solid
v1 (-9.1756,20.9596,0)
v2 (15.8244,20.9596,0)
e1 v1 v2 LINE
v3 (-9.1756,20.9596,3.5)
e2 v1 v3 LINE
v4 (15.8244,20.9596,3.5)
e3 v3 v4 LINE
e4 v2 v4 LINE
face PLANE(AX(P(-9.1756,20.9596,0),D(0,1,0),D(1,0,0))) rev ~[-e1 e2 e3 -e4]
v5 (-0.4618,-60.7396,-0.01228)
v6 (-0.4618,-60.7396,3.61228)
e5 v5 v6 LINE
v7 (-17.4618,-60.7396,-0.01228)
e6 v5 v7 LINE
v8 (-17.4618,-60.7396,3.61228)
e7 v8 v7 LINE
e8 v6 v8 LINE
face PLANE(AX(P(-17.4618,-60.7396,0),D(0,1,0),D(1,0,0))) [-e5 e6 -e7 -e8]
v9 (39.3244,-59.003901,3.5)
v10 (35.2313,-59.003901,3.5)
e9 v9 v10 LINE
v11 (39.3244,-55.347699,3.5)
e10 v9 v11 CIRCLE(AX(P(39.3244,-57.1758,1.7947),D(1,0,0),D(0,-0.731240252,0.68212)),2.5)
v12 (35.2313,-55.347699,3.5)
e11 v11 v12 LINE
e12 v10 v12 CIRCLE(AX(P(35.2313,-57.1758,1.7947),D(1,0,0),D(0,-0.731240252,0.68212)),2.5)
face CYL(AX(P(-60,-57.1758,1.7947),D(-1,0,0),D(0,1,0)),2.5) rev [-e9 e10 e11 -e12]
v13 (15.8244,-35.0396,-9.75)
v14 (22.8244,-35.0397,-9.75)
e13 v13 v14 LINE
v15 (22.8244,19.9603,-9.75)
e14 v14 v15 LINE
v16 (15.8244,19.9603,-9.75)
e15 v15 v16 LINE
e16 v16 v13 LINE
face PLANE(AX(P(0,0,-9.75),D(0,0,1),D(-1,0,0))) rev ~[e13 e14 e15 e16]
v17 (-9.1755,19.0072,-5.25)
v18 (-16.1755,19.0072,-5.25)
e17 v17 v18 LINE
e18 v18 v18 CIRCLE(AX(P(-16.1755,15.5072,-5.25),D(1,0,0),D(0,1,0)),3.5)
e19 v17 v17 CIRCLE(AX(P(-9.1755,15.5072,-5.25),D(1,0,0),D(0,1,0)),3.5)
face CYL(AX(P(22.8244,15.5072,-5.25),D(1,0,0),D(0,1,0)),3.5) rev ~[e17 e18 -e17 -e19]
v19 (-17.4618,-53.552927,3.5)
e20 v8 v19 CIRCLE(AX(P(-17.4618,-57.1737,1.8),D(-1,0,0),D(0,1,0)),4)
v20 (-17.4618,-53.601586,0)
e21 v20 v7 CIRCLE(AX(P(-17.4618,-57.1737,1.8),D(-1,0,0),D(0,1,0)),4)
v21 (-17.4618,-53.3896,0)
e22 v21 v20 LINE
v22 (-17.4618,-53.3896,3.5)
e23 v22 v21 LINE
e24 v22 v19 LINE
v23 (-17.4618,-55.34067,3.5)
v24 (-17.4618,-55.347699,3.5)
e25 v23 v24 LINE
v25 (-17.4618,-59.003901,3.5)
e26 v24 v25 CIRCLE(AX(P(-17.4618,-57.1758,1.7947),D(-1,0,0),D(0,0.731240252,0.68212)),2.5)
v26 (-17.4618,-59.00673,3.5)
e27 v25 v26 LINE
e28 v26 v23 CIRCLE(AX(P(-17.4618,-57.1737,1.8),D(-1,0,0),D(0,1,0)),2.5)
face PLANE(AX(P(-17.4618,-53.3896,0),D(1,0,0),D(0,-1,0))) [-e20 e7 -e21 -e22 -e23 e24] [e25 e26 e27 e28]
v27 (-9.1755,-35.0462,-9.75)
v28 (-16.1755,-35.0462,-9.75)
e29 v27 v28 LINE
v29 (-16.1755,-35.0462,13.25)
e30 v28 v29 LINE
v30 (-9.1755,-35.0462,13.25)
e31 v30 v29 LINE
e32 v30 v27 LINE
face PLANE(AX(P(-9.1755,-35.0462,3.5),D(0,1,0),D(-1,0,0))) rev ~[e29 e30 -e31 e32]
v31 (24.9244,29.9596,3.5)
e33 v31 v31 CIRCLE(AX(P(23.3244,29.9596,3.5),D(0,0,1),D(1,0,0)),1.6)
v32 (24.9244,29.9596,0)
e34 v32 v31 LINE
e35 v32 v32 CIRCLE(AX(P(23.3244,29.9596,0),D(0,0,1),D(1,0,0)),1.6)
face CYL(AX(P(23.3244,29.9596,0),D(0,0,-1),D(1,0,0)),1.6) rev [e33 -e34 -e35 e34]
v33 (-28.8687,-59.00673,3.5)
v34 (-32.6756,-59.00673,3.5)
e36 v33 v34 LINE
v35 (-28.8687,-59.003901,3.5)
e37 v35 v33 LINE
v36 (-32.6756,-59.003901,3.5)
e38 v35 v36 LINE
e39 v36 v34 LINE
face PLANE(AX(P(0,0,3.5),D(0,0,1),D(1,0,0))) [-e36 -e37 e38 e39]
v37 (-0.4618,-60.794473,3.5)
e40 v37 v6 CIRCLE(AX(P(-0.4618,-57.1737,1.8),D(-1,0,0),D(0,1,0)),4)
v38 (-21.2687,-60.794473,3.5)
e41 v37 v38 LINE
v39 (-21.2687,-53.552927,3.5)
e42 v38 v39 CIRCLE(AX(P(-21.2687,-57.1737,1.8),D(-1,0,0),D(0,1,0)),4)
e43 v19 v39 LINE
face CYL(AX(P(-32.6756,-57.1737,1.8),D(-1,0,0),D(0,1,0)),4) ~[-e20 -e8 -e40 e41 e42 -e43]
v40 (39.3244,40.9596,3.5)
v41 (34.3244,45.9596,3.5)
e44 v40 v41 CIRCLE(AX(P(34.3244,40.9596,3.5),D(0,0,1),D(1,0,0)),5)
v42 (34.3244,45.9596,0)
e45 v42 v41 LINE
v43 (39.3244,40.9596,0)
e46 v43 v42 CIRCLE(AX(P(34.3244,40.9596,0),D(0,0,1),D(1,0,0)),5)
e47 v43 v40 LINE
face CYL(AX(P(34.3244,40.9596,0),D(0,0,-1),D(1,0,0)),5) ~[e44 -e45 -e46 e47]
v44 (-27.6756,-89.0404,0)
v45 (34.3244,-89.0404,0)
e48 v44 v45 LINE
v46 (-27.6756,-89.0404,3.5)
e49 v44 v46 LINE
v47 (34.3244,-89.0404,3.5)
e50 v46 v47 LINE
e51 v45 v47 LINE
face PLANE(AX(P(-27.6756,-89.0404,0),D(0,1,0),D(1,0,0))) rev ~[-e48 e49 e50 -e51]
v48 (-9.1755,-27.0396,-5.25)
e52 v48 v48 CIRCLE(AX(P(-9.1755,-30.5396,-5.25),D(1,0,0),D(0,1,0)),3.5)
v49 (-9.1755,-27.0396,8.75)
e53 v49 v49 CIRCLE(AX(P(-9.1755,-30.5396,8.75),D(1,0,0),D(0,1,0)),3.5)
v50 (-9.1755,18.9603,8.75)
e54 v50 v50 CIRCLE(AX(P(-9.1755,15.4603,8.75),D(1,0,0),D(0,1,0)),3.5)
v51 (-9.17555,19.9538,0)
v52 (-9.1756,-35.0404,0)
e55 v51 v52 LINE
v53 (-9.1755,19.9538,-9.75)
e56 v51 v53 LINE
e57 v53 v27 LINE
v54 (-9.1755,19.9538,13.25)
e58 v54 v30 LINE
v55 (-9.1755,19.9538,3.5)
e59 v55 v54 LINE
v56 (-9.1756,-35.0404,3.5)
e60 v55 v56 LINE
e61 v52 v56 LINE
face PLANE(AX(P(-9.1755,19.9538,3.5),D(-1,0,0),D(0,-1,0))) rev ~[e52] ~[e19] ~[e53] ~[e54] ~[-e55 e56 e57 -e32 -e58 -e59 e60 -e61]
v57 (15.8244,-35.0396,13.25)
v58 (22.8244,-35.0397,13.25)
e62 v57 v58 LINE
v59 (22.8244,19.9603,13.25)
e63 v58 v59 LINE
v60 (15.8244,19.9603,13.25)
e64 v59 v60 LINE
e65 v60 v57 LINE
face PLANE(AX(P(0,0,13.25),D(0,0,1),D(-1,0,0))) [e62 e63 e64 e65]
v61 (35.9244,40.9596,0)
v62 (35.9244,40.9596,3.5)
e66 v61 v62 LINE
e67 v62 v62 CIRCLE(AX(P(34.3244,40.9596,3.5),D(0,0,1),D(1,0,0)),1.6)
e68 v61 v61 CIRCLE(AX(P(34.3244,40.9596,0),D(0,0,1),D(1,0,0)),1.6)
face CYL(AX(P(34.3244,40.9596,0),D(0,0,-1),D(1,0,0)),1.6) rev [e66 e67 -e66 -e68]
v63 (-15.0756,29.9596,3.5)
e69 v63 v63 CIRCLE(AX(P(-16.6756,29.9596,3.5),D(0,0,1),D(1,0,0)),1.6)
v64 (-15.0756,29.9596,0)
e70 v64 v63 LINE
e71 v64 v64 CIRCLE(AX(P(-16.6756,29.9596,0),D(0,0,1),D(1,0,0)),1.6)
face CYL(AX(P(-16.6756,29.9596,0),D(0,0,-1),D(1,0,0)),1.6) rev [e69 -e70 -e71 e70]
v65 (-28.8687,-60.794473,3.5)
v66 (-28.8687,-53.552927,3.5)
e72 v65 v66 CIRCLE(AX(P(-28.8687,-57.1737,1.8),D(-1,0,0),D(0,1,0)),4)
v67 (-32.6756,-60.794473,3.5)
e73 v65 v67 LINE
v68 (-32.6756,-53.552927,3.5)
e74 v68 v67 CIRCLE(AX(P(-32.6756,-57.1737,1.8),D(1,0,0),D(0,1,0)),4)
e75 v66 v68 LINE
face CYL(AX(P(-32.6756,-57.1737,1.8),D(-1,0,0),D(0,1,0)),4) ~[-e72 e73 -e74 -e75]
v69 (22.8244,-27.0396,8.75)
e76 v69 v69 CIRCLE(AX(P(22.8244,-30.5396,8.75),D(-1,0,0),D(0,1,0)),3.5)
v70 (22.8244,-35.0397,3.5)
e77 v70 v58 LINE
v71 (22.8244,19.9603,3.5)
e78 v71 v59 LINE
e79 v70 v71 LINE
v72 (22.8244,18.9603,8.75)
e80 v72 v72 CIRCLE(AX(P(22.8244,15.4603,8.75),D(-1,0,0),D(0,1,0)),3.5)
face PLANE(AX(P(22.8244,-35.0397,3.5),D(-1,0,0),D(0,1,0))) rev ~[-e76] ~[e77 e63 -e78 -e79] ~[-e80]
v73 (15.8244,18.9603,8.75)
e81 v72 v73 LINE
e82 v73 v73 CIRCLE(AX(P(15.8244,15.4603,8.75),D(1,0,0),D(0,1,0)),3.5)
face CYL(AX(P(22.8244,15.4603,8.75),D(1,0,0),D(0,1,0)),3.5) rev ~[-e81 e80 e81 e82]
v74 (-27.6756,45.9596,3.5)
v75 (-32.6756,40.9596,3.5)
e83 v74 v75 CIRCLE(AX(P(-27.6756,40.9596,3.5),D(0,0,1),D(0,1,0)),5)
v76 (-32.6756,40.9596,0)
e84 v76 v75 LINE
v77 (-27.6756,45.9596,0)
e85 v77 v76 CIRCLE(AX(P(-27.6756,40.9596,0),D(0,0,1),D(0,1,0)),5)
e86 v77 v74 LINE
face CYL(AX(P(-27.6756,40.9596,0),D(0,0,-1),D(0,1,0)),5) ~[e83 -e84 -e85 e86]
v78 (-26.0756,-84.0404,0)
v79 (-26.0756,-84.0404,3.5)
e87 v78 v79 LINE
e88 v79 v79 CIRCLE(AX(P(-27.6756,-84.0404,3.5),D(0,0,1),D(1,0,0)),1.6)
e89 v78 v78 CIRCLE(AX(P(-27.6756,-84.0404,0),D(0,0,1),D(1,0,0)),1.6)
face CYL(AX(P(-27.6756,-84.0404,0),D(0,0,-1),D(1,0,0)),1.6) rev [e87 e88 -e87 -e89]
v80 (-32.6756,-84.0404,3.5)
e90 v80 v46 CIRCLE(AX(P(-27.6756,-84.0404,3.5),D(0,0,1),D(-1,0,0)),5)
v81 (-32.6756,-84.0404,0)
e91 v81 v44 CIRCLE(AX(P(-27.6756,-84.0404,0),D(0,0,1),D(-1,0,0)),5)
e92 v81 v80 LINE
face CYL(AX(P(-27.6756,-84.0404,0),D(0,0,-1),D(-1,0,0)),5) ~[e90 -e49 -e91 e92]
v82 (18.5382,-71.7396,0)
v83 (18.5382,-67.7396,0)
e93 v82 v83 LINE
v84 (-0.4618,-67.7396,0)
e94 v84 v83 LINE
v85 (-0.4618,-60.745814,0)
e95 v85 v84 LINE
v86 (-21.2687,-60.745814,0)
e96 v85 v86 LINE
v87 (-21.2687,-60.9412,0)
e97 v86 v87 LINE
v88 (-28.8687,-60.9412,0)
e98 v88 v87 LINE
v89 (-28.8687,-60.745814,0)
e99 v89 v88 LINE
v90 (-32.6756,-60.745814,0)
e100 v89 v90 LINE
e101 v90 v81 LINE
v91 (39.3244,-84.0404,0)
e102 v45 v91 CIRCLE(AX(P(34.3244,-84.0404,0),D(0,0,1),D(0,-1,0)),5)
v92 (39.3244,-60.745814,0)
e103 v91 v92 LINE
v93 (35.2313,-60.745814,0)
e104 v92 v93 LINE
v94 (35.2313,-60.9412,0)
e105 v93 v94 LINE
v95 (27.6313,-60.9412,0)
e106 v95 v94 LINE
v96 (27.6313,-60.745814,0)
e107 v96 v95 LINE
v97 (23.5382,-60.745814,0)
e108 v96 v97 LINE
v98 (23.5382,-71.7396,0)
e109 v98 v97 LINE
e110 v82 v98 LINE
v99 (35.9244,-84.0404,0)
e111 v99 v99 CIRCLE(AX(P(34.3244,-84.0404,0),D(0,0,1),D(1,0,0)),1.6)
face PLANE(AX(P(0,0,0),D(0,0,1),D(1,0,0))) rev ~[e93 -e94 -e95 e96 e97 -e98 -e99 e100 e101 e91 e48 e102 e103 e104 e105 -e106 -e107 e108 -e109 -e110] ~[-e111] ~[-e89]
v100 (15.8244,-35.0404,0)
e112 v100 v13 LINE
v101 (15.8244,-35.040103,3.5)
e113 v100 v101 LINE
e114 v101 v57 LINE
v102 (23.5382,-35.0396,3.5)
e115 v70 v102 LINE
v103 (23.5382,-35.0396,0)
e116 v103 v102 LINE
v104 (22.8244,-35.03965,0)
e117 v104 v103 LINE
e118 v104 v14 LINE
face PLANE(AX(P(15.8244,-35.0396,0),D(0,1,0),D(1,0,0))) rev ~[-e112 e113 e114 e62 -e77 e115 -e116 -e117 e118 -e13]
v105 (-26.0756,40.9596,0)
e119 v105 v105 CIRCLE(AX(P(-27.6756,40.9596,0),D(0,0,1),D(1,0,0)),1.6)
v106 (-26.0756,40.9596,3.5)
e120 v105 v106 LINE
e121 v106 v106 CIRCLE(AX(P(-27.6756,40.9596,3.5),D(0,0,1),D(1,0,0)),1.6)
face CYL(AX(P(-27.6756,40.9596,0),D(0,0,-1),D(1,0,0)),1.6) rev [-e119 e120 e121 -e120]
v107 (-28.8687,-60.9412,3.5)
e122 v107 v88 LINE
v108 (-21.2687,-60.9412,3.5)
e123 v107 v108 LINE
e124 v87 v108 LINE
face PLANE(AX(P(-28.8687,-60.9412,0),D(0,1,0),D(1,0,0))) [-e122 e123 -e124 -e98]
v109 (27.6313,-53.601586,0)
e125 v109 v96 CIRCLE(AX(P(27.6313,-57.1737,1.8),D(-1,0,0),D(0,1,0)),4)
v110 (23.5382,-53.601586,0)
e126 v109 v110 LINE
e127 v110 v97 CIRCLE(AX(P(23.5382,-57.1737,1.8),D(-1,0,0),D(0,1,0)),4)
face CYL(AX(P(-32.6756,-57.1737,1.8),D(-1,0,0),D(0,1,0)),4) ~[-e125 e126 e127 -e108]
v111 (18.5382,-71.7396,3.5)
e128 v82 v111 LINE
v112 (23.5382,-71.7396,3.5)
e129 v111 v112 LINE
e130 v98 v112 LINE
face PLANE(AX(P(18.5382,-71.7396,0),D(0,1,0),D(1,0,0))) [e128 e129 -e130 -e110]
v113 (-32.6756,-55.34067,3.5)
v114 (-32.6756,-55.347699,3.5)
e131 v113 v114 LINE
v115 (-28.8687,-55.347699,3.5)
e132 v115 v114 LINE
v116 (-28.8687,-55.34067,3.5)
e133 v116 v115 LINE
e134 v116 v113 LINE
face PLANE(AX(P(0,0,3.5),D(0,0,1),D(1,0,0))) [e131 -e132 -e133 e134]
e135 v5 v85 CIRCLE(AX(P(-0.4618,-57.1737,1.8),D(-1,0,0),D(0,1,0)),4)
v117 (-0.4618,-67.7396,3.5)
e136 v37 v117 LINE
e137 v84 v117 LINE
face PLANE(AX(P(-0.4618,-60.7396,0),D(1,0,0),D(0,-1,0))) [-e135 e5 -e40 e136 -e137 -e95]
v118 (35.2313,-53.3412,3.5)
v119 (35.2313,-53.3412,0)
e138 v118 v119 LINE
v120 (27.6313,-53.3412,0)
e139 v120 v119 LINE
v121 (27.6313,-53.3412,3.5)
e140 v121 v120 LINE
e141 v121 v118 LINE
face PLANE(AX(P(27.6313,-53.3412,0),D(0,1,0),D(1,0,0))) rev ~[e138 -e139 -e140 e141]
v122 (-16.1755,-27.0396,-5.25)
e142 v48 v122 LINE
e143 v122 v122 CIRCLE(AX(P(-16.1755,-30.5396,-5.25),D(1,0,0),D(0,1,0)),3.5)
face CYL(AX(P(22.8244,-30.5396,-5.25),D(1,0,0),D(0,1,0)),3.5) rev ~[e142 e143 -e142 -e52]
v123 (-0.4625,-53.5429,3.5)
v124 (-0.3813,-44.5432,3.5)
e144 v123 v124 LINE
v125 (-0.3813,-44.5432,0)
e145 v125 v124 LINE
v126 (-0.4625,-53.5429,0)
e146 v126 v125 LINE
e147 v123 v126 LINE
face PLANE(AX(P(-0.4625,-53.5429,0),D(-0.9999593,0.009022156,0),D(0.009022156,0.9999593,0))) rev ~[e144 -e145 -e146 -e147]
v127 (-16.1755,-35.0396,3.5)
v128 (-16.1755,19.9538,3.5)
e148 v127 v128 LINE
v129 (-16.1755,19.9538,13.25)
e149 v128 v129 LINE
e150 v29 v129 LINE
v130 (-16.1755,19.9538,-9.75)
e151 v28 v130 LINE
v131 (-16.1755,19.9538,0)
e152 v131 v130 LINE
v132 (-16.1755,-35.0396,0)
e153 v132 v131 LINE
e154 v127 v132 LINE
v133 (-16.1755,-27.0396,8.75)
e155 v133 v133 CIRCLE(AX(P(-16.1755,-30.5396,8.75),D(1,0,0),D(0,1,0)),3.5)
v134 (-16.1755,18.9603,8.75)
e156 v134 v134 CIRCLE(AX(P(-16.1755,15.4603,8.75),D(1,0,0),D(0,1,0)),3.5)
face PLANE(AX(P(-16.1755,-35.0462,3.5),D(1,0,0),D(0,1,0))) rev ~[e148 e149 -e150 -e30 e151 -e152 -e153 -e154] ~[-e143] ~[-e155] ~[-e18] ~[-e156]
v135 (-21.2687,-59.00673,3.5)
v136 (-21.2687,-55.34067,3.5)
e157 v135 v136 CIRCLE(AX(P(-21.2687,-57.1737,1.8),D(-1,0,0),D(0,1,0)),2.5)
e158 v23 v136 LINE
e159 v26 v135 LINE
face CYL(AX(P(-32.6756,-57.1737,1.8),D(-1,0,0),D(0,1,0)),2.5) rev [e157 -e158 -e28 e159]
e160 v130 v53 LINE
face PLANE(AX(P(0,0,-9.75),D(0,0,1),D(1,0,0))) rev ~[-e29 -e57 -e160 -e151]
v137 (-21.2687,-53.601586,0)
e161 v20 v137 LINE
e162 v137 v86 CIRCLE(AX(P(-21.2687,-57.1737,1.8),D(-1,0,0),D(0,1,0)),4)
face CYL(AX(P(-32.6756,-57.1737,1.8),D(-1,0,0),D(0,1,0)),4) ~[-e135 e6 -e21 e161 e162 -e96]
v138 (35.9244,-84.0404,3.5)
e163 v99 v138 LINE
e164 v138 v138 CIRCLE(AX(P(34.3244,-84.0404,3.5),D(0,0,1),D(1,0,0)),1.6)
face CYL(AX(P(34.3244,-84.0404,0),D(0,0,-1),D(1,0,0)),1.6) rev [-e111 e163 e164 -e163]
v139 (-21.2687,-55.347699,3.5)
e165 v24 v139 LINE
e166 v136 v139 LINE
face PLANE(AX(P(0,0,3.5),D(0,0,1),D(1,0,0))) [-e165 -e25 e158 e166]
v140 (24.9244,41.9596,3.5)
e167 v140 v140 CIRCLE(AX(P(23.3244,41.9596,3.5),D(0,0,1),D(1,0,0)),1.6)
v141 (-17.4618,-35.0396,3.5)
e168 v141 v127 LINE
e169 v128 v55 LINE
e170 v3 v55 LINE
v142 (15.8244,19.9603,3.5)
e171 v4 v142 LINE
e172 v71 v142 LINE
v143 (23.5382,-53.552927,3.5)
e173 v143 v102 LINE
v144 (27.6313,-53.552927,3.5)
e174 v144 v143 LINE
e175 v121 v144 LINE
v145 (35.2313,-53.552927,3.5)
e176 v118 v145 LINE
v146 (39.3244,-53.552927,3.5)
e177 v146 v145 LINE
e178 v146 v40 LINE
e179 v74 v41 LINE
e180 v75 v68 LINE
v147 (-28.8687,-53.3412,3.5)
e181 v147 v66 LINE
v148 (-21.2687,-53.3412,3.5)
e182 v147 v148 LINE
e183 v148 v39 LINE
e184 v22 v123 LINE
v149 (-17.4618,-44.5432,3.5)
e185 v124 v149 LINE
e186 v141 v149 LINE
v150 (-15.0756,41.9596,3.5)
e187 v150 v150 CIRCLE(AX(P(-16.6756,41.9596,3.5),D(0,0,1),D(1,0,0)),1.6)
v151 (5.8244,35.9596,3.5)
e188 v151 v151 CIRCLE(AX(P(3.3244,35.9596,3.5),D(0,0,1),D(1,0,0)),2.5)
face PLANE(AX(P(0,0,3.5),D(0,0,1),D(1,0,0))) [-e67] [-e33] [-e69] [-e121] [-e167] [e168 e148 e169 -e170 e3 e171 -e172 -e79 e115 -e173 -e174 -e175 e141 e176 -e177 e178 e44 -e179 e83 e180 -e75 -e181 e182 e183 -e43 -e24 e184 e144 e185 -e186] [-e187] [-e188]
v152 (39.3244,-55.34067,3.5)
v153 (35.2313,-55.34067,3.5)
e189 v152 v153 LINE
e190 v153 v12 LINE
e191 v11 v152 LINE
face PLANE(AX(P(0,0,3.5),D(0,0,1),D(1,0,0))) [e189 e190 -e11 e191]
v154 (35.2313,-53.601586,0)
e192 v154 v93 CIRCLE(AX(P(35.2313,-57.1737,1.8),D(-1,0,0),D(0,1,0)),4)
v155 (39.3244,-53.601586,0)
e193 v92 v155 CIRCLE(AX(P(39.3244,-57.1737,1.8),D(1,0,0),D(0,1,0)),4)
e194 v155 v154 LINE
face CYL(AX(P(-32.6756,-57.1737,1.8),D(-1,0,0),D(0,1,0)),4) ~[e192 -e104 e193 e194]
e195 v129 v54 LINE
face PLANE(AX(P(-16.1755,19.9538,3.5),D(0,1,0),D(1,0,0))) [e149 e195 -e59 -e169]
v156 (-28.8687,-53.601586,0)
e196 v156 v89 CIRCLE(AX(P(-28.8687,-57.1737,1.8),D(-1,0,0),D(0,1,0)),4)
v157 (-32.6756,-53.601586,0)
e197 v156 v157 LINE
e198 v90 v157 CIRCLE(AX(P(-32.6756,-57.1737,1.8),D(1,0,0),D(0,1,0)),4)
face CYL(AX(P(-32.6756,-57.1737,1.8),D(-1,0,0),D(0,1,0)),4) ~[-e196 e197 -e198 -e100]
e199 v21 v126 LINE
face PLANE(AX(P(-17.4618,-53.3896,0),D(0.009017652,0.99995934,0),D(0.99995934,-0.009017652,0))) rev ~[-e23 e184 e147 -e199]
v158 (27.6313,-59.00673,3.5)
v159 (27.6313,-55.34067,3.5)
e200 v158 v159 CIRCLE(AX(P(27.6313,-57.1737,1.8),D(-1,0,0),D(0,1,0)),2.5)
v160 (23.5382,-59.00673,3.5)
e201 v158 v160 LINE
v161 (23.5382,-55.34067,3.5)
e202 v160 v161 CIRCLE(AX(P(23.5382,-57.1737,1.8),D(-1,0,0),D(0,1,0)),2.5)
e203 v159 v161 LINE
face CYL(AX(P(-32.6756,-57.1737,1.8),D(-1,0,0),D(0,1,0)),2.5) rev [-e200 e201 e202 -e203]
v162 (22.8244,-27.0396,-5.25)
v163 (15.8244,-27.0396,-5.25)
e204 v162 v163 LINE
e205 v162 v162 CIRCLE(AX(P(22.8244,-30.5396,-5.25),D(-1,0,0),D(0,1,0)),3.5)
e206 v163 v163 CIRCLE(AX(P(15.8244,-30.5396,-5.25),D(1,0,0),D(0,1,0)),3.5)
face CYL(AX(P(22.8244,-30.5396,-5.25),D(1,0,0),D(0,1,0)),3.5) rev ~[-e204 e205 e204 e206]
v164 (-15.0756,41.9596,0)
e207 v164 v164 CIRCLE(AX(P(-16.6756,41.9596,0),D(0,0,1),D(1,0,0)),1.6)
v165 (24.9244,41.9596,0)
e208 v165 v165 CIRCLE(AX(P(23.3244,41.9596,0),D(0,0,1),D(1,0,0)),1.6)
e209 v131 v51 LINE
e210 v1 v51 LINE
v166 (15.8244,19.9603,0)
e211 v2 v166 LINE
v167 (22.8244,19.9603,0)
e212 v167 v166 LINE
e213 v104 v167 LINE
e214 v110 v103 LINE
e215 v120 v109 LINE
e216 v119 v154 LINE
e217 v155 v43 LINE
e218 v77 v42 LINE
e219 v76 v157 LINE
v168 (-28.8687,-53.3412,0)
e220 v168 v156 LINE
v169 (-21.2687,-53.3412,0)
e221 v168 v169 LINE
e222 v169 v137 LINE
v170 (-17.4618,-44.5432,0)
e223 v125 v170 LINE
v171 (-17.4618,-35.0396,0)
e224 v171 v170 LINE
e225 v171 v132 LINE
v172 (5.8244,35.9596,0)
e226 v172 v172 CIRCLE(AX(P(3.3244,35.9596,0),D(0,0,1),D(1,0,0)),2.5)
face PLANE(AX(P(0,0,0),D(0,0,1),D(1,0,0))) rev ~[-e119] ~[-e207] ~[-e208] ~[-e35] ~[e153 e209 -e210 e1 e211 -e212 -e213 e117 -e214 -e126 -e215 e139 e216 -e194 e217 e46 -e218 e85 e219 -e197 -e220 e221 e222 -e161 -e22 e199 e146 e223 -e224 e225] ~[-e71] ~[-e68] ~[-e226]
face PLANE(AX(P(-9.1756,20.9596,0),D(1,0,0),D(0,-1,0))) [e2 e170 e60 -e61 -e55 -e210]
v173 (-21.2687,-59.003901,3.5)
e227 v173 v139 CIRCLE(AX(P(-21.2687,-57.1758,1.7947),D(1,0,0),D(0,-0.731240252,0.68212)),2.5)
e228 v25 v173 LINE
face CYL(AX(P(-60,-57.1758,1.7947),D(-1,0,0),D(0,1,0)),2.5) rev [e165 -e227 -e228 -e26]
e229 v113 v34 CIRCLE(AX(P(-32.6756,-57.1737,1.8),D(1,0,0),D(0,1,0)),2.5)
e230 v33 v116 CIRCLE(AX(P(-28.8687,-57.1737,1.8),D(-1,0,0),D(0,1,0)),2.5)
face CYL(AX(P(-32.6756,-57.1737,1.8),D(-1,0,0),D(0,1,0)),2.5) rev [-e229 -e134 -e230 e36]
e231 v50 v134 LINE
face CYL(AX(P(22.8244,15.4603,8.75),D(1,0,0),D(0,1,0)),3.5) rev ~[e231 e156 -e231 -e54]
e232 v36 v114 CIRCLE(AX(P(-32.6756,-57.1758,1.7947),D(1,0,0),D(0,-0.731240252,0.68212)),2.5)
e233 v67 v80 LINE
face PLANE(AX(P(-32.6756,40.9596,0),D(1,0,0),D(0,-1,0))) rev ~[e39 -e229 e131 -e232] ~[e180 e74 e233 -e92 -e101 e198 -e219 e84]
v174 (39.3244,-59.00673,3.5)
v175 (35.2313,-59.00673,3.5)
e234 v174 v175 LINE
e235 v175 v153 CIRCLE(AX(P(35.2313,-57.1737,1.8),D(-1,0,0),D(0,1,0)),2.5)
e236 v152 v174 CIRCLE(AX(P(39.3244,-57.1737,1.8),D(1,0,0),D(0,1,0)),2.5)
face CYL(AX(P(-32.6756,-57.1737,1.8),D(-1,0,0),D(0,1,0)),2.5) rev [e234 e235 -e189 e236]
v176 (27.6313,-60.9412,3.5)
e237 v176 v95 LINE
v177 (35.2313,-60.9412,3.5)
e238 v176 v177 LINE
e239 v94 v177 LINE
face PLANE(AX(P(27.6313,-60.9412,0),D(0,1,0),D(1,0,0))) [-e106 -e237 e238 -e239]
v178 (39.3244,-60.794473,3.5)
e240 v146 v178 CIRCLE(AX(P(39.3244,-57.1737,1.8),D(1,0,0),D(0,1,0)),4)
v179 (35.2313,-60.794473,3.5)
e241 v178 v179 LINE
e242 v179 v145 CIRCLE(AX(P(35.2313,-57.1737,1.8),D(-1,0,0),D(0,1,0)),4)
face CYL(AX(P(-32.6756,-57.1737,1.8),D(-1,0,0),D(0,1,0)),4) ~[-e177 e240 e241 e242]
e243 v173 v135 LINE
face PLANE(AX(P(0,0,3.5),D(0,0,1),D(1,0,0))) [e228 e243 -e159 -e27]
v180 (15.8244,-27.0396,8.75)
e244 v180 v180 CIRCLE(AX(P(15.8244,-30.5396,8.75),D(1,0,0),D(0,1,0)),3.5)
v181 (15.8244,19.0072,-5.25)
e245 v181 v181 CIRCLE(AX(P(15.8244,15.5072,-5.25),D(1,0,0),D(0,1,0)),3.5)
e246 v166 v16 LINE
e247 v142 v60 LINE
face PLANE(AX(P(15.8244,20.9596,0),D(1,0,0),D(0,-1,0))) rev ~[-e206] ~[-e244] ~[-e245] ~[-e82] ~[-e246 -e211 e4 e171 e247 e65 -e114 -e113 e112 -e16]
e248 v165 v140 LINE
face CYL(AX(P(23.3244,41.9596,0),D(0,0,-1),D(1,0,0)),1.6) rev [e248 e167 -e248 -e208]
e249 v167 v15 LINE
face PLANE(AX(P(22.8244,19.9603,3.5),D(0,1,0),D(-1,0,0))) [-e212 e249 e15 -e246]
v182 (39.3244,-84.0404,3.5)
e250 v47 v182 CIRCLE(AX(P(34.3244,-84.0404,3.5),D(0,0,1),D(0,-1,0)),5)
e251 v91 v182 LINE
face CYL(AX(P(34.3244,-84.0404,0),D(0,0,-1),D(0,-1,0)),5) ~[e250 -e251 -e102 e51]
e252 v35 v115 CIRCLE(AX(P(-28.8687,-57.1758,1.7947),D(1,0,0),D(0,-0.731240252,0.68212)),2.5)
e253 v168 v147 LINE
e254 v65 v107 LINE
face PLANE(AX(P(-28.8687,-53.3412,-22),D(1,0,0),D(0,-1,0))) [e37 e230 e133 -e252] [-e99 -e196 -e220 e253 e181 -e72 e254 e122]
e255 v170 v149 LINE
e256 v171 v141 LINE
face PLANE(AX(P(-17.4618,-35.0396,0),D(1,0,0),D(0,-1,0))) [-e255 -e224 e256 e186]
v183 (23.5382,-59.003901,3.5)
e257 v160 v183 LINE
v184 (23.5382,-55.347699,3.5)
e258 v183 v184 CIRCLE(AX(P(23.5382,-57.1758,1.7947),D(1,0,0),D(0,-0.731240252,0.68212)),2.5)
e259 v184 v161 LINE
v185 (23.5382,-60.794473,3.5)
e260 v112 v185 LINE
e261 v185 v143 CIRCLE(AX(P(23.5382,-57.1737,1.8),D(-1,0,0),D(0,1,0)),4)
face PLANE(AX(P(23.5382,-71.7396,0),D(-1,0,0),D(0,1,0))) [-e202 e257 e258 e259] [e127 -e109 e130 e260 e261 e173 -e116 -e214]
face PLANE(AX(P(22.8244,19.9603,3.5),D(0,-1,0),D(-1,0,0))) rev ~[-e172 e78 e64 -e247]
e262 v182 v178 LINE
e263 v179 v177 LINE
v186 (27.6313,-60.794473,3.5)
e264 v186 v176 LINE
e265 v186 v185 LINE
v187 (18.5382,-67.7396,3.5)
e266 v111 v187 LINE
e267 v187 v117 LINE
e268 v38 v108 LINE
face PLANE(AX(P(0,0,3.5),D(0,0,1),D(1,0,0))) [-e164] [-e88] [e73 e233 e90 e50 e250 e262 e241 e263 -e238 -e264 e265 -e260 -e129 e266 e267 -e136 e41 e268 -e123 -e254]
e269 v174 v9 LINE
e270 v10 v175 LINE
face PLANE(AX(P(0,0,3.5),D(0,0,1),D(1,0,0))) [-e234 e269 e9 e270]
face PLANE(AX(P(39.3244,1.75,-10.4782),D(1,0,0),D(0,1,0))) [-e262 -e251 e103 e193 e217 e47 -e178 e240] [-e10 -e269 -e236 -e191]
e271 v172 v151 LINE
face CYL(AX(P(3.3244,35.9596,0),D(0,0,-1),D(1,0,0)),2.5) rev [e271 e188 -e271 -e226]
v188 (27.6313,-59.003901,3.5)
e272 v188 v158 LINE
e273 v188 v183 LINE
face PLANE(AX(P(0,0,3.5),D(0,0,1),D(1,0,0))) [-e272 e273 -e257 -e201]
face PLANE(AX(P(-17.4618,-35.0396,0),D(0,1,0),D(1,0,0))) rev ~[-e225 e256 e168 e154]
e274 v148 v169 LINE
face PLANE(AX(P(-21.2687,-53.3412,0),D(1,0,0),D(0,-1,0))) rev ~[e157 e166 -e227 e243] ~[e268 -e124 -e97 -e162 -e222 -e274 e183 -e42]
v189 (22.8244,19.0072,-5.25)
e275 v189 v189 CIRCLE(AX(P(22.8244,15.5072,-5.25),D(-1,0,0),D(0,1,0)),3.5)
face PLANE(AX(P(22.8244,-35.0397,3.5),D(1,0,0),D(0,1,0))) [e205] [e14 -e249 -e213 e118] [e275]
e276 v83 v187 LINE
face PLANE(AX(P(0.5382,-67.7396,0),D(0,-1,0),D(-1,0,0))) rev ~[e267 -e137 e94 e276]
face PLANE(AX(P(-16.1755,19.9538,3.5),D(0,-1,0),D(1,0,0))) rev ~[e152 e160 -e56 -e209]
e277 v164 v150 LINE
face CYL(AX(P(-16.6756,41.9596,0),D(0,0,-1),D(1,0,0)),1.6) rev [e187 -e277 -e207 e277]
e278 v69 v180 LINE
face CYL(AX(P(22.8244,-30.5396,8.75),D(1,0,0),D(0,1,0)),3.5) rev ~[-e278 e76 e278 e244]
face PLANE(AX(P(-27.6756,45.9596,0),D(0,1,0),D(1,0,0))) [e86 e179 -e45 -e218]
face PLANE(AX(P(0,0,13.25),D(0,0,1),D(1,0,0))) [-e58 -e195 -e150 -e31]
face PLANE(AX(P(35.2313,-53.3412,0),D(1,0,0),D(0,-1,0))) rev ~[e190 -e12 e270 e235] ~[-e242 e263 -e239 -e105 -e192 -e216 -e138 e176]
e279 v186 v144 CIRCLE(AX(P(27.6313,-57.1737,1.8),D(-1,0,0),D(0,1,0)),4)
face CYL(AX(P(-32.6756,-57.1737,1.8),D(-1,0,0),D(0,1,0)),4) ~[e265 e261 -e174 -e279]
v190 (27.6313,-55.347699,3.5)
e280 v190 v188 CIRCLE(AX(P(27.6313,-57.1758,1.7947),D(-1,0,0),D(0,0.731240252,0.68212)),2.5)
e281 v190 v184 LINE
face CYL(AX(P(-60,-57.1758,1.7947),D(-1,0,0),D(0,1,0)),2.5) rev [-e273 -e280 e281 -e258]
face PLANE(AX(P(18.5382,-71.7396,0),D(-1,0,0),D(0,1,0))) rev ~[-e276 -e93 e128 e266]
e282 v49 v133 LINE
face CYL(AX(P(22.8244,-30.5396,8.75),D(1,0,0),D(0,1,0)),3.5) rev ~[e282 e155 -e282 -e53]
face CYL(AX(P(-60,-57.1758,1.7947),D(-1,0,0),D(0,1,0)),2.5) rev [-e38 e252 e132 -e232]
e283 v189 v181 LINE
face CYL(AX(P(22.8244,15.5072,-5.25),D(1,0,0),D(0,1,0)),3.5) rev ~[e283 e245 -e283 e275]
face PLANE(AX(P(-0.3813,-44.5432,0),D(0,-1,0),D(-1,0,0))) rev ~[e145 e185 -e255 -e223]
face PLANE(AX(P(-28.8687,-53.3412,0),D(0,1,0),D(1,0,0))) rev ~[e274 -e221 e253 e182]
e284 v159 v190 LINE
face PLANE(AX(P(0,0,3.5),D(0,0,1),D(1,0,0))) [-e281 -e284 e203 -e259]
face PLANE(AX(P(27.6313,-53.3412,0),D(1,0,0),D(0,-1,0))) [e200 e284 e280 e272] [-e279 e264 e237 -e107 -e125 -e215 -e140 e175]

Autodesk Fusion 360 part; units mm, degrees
sketch "Sketch1" plane through (0, 0, 0) normal (0, 0, 1) x (1, 0, 0)
  line L0 (-27.6756, 45.9596) -> (34.3244, 45.9596)
  line L1 (-32.6756, 40.9596) -> (-32.6756, -84.0404)
  line L2 (-27.6756, -89.0404) -> (34.3244, -89.0404)
  line L3 (39.3244, -84.0404) -> (39.3244, 40.9596)
  arc A0 (39.3244, 40.9596) -> (34.3244, 45.9596) centre (34.3244, 40.9596) ccw
  arc A1 (-27.6756, 45.9596) -> (-32.6756, 40.9596) centre (-27.6756, 40.9596) ccw
  arc A2 (-32.6756, -84.0404) -> (-27.6756, -89.0404) centre (-27.6756, -84.0404) ccw
  arc A3 (34.3244, -89.0404) -> (39.3244, -84.0404) centre (34.3244, -84.0404) ccw
  circle A4 centre (-27.6756, 40.9596) radius 1.6
  circle A5 centre (34.3244, 40.9596) radius 1.6
  circle A6 centre (34.3244, -84.0404) radius 1.6
  circle A7 centre (-27.6756, -84.0404) radius 1.6
  circle A8 centre (3.3244, 35.9596) radius 2.5
  circle A9 centre (-16.6756, 41.9596) radius 1.6
  circle A10 centre (-16.6756, 29.9596) radius 1.6
  circle A11 centre (23.3244, 41.9596) radius 1.6
  circle A12 centre (23.3244, 29.9596) radius 1.6
  line L4 (-9.1756, 20.9596) -> (-9.1756, -35.0404)
  line L5 (-9.1756, 20.9596) -> (15.8244, 20.9596)
  line L6 (15.8244, 20.9596) -> (15.8244, -35.0404)
  line L7 (-9.1756, -35.0404) -> (15.8244, -35.0404)
  line L8 (-17.4618, -35.0396) -> (-17.4618, -71.7396)
  line L9 (-17.4618, -71.7396) -> (23.5382, -71.7396)
  line L10 (23.5382, -71.7396) -> (23.5382, -35.0396)
  line L11 (-17.4618, -35.0396) -> (23.5382, -35.0396)
  line L12 (-28.8687, -53.3412) -> (-21.2687, -53.3412)
  line L13 (-28.8687, -53.3412) -> (-28.8687, -60.9412)
  line L14 (-21.2687, -53.3412) -> (-21.2687, -60.9412)
  line L15 (-28.8687, -60.9412) -> (-21.2687, -60.9412)
  line L16 (-60, -39) -> (-60, -28)
  line L17 (-17.4618, -71.7396) -> (-17.4618, -60.7396)
  line L18 (-17.4618, -60.7396) -> (-0.4618, -60.7396)
  line L19 (-17.4618, -71.7396) -> (-0.4618, -71.7396)
  line L20 (-17.4618, -53.3896) -> (-0.4625, -53.5429)
  line L21 (-0.4625, -53.5429) -> (-0.3813, -44.5432)
  line L22 (-0.3813, -44.5432) -> (-17.4618, -44.5432)
  line L23 (-17.4618, -44.5432) -> (-17.4618, -53.3896)
  line L24 (18.5382, -71.7396) -> (18.5382, -67.7396)
  line L25 (18.5382, -67.7396) -> (0.5382, -67.7396)
  line L26 (0.5382, -71.7396) -> (18.5382, -71.7396)
  line L27 (0.5382, -67.7396) -> (-0.4618, -67.7396)
  line L28 (-0.4618, -60.7396) -> (-0.4618, -67.7396)
  line L29 (27.6313, -53.3412) -> (35.2313, -53.3412)
  line L30 (35.2313, -53.3412) -> (35.2313, -60.9412)
  line L31 (27.6313, -53.3412) -> (27.6313, -60.9412)
  line L32 (27.6313, -60.9412) -> (35.2313, -60.9412)
  point P0 (-32.6756, 45.9596)
  point P1 (39.3244, 45.9596)
  point P2 (-32.6756, -89.0404)
  point P3 (39.3244, -89.0404)
  point P4 (39.3244, 20.9596)
  dimension "d1" = 72
  dimension "d2" = 135
  dimension "d3" = 72
  dimension "d4" = 110
  dimension "d5" = 5
  dimension "d6" = 5
  dimension "d7" = 5
  dimension "d8" = 5
  dimension "d9" = 3.2
  dimension "d10" = 3.2
  dimension "d11" = 3.2
  dimension "d12" = 3.2
  dimension "d14" = 5
  dimension "d19" = 10
  dimension "d23" = 3.2
  dimension "d24" = 3.2
  dimension "d25" = 3.2
  dimension "d26" = 3.2
  dimension "d27" = 56
  dimension "d28" = 25
  dimension "d29" = 56
  dimension "d32" = 36.7
  dimension "d33" = 41
  dimension "d34" = 36.7
  dimension "d35" = 7.6
  dimension "d37" = 7.6
  dimension "d38" = 7.6
  dimension "d39" = 11
  dimension "d42" = 17
  dimension "d43" = 9
  dimension "d46" = 4
  dimension "d48" = 7.6
  dimension "d49" = 7.6
  dimension "d50" = 7.6
extrude "Extrude1" add sketch "Sketch1" along normal blind 3.5 contours L0 L1 L2 L3 A0 A1 A2 A3 | L8 L20 L21 L22 L23 | L8 L9 L17 L18 L19 L24 L25 L26 L27 L28 makes body 1
sketch "Sketch2" plane through (0, 0, 0) normal (1, 0, 0) x (0, 1, 0)
  circle A0 centre (-58.9237, 12.2782) radius 4
  circle A1 centre (-58.9237, 12.2782) radius 2.5
  dimension "d53" = 8
  dimension "d54" = 5
extrude "Extrude3" add sketch "Sketch2" along normal blind 72 separate body makes body 2
move_body "Align1" bodies 2 to x (0, -1, 0) y (1, 0, 0) z (0, 0, 1) at (26.2481, -58.9237, -8.7782)
move_body "Align2" bodies 2 to x (1, 0, 0) y (0, 1, 0) z (0, 0, 1) at (72, 0, 0)
move_body "Move3" bodies 2 to x (0, 1, 0) y (-1, 0, 0) z (0, 0, 1) at (-94.8493, -166.9981, 0)
move_body "Move4" bodies 2 to x (1, 0, 0) y (0, 1, 0) z (0, 0, 1) at (3.25, 70.5, 0)
move_body "Move5" bodies 2 to x (1, 0, 0) y (0, 1, 0) z (0, 0, 1) at (0, 0, -1.7)
combine "Combine1" operation add target body 1 tool bodies 2
sketch "Sketch3" plane through (0, 0, 0) normal (1, 0, 0) x (0, 1, 0)
  circle A0 centre (-60, 35) radius 2.5
  dimension "d59" = 5
extrude "Extrude4" add sketch "Sketch3" along normal blind 300 separate body makes body 3
move_body "Move6" bodies 3 to x (1, 0, 0) y (0, 1, 0) z (0, 0, 1) at (0, 2.5942, -33.2053)
move_body "Move7" bodies 3 to x (1, 0, 0) y (0, 1, 0) z (0, 0, 1) at (0, 0.23, 0)
move_body "Move8" bodies 3 to x (1, 0, 0) y (0, 1, 0) z (0, 0, 1) at (-60, 0, 0)
combine "Combine2" operation cut target body 1 tool bodies 3
extrude "Extrude5" add sketch "Sketch1" along normal blind 500 separate body contours L12 L13 L14 L15 makes body 4
move_body "Move9" bodies 4 to x (1, 0, 0) y (0, 1, 0) z (0, 0, 1) at (0, 0, -22)
combine "Combine3" operation cut target body 1 tool bodies 4
extrude "Extrude6" add sketch "Sketch1" along normal blind 500 separate body contours L29 L30 L31 L32 makes body 5
move_body "Move10" bodies 5 to x (1, 0, 0) y (0, 1, 0) z (0, 0, 1) at (0, 0, -14)
combine "Combine4" operation cut target body 1 tool bodies 5
extrude "Extrude7" cut sketch "Sketch1" along normal blind 30 contours L7 L8 L9 L10 L11 L18 L20 L21 L22 L24 L25 L27 L28 bodies 1
extrude "Extrude8" cut sketch "Sketch1" against normal blind 7 contours L7 L8 L9 L10 L11 L18 L20 L21 L22 L24 L25 L27 L28 bodies 1
sketch "Sketch6" plane through (0, 0, 0) normal (1, 0, 0) x (0, 1, 0)
  circle A0 centre (2.5, 8.5) radius 4
  circle A1 centre (2.5, 8.5) radius 2.5
  dimension "d70" = 8
  dimension "d71" = 5
extrude "Extrude9" add sketch "Sketch6" along normal blind 74 separate body makes body 6
sketch "Sketch7" plane through (0, 0, 3.5) normal (0, 0, 1) x (-1, 0, 0)
  line L0 (-23.5382, 53.5529) -> (-27.6313, 53.5529)
  line L1 (-27.6313, 53.5529) -> (-27.6313, 53.3412)
  line L2 (-27.6313, 53.3412) -> (-35.2313, 53.3412)
  line L3 (-35.2313, 53.3412) -> (-35.2313, 53.5529)
  line L4 (-35.2313, 53.5529) -> (-39.3244, 53.5529)
  line L5 (-39.3244, 53.5529) -> (-39.3244, -40.9596)
  arc A0 (-39.3244, -40.9596) -> (-34.3244, -45.9596) centre (-34.3244, -40.9596) ccw
  line L6 (-34.3244, -45.9596) -> (27.6756, -45.9596)
  arc A1 (27.6756, -45.9596) -> (32.6756, -40.9596) centre (27.6756, -40.9596) ccw
  line L7 (32.6756, -40.9596) -> (32.6756, 53.5529)
  line L8 (32.6756, 53.5529) -> (28.8687, 53.5529)
  line L9 (28.8687, 53.5529) -> (28.8687, 53.3412)
  line L10 (28.8687, 53.3412) -> (21.2687, 53.3412)
  line L11 (21.2687, 53.3412) -> (21.2687, 53.5529)
  line L12 (21.2687, 53.5529) -> (17.4618, 53.5529)
  line L13 (17.4618, 53.5529) -> (17.4618, 53.3896)
  line L14 (17.4618, 53.3896) -> (0.4625, 53.5429)
  line L15 (0.4625, 53.5429) -> (0.3813, 44.5432)
  line L16 (0.3813, 44.5432) -> (17.4618, 44.5432)
  line L17 (17.4618, 44.5432) -> (17.4618, 35.0396)
  line L18 (17.4618, 35.0396) -> (9.1756, 35.0396)
  line L19 (9.1756, 35.0396) -> (9.1756, -20.9596)
  line L20 (9.1756, -20.9596) -> (-15.8244, -20.9596)
  line L21 (-15.8244, -20.9596) -> (-15.8244, 35.0396)
  line L22 (-15.8244, 35.0396) -> (-23.5382, 35.0396)
  line L23 (-23.5382, 35.0396) -> (-23.5382, 53.5529)
  circle A2 centre (-23.3244, -29.9596) radius 1.6
  circle A3 centre (16.6756, -29.9596) radius 1.6
  circle A4 centre (-34.3244, -40.9596) radius 1.6
  circle A5 centre (16.6756, -41.9596) radius 1.6
  circle A6 centre (-3.3244, -35.9596) radius 2.5
  circle A7 centre (-23.3244, -41.9596) radius 1.6
  circle A8 centre (27.6756, -40.9596) radius 1.6
  line L24 (-15.8244, 35.0397) -> (-22.8244, 35.0397)
  line L25 (-22.8244, 35.0397) -> (-22.8244, -19.9603)
  line L26 (-22.8244, -19.9603) -> (-15.8244, -19.9603)
  line L27 (-15.8244, -19.9603) -> (-15.8244, 35.0397)
  dimension "d74" = 7
  dimension "d75" = 55
sketch "Sketch9" plane through (0, 0, 3.5) normal (0, 0, 1) x (1, 0, 0)
  line L0 (-9.1755, -35.0462) -> (-16.1755, -35.0462)
  line L1 (-16.1755, -35.0462) -> (-16.1755, 19.9538)
  line L2 (-16.1755, 19.9538) -> (-9.1755, 19.9538)
  line L3 (-9.1755, 19.9538) -> (-9.1755, -35.0462)
  dimension "d81" = 7
  dimension "d82" = 55
  dimension "d83" = 7
extrude "Extrude11" add sketch "Sketch9" sketch "Sketch7" along normal blind 9.75 of sketch 2 contours L21 L22 L24 L25 L26 L27 bodies 1
extrude "Extrude12" add sketch "Sketch9" sketch "Sketch7" against normal blind 13.25 of sketch 2 contours L21 L22 L24 L25 L26 L27 bodies 1
sketch "Sketch11" plane through (22.8244, 0, 0) normal (1, 0, 0) x (0, 1, 0)
  line L0 (-35.0396, 3.5) -> (19.9603, 3.5)
  line L1 (19.9603, 3.5) -> (19.9603, 13.25)
  line L2 (19.9603, 13.25) -> (-35.0396, 13.25)
  line L3 (-35.0396, 13.25) -> (-35.0396, 3.5)
  line L4 (-35.0396, 13.25) -> (-35.0284, 13.25) construction
  circle A0 centre (-30.5396, 8.75) radius 3.5
  line L5 (-35.0396, 8.75) -> (-30.5396, 8.75)
  line L6 (-30.5396, 8.75) -> (-30.5396, 13.25)
  line L7 (19.9603, 8.75) -> (15.4603, 8.75)
  line L8 (15.4603, 8.75) -> (15.4603, 13.25)
  circle A1 centre (15.4603, 8.75) radius 3.5
  dimension "d91" = 7
  dimension "d94" = 4.5
  dimension "d95" = 4.5
  dimension "d96" = 4.5
  dimension "d97" = 4.5
  dimension "d98" = 7
extrude "Extrude13" cut sketch "Sketch11" against normal blind 82 contours A0 L5 L6 | A0 L5 L6 | L7 L8 A1 | L7 L8 A1 bodies 1
sketch "Sketch12" plane through (22.8244, 0, 0) normal (1, 0, 0) x (0, 1, 0)
  line L0 (19.9603, 0) -> (-35.0396, 0)
  line L1 (-35.0396, 0) -> (-35.0396, -9.75)
  line L2 (-35.0396, -9.75) -> (19.9603, -9.75)
  line L3 (19.9603, -9.75) -> (19.9603, 0)
  line L4 (-35.0396, -5.25) -> (-30.5396, -5.25)
  line L5 (-30.5396, -5.25) -> (-30.5396, -9.75)
  circle A0 centre (-30.5396, -5.25) radius 3.5
  line L6 (15.5072, -9.75) -> (15.5072, -5.25)
  line L7 (15.5072, -5.25) -> (20.0072, -5.25)
  circle A1 centre (15.5072, -5.25) radius 3.5
  dimension "d101" = 4.5
  dimension "d102" = 4.5
  dimension "d103" = 7
  dimension "d104" = 4.5
  dimension "d105" = 4.5
  dimension "d106" = 7
extrude "Extrude14" cut sketch "Sketch12" against normal blind 1000 contours L6 L7 A1 | L6 L7 A1 | L4 L5 A0 | L4 L5 A0 bodies 1
extrude "Extrude10" [suppressed]
fillet "Fillet1" [suppressed]
hidden bodies 6
